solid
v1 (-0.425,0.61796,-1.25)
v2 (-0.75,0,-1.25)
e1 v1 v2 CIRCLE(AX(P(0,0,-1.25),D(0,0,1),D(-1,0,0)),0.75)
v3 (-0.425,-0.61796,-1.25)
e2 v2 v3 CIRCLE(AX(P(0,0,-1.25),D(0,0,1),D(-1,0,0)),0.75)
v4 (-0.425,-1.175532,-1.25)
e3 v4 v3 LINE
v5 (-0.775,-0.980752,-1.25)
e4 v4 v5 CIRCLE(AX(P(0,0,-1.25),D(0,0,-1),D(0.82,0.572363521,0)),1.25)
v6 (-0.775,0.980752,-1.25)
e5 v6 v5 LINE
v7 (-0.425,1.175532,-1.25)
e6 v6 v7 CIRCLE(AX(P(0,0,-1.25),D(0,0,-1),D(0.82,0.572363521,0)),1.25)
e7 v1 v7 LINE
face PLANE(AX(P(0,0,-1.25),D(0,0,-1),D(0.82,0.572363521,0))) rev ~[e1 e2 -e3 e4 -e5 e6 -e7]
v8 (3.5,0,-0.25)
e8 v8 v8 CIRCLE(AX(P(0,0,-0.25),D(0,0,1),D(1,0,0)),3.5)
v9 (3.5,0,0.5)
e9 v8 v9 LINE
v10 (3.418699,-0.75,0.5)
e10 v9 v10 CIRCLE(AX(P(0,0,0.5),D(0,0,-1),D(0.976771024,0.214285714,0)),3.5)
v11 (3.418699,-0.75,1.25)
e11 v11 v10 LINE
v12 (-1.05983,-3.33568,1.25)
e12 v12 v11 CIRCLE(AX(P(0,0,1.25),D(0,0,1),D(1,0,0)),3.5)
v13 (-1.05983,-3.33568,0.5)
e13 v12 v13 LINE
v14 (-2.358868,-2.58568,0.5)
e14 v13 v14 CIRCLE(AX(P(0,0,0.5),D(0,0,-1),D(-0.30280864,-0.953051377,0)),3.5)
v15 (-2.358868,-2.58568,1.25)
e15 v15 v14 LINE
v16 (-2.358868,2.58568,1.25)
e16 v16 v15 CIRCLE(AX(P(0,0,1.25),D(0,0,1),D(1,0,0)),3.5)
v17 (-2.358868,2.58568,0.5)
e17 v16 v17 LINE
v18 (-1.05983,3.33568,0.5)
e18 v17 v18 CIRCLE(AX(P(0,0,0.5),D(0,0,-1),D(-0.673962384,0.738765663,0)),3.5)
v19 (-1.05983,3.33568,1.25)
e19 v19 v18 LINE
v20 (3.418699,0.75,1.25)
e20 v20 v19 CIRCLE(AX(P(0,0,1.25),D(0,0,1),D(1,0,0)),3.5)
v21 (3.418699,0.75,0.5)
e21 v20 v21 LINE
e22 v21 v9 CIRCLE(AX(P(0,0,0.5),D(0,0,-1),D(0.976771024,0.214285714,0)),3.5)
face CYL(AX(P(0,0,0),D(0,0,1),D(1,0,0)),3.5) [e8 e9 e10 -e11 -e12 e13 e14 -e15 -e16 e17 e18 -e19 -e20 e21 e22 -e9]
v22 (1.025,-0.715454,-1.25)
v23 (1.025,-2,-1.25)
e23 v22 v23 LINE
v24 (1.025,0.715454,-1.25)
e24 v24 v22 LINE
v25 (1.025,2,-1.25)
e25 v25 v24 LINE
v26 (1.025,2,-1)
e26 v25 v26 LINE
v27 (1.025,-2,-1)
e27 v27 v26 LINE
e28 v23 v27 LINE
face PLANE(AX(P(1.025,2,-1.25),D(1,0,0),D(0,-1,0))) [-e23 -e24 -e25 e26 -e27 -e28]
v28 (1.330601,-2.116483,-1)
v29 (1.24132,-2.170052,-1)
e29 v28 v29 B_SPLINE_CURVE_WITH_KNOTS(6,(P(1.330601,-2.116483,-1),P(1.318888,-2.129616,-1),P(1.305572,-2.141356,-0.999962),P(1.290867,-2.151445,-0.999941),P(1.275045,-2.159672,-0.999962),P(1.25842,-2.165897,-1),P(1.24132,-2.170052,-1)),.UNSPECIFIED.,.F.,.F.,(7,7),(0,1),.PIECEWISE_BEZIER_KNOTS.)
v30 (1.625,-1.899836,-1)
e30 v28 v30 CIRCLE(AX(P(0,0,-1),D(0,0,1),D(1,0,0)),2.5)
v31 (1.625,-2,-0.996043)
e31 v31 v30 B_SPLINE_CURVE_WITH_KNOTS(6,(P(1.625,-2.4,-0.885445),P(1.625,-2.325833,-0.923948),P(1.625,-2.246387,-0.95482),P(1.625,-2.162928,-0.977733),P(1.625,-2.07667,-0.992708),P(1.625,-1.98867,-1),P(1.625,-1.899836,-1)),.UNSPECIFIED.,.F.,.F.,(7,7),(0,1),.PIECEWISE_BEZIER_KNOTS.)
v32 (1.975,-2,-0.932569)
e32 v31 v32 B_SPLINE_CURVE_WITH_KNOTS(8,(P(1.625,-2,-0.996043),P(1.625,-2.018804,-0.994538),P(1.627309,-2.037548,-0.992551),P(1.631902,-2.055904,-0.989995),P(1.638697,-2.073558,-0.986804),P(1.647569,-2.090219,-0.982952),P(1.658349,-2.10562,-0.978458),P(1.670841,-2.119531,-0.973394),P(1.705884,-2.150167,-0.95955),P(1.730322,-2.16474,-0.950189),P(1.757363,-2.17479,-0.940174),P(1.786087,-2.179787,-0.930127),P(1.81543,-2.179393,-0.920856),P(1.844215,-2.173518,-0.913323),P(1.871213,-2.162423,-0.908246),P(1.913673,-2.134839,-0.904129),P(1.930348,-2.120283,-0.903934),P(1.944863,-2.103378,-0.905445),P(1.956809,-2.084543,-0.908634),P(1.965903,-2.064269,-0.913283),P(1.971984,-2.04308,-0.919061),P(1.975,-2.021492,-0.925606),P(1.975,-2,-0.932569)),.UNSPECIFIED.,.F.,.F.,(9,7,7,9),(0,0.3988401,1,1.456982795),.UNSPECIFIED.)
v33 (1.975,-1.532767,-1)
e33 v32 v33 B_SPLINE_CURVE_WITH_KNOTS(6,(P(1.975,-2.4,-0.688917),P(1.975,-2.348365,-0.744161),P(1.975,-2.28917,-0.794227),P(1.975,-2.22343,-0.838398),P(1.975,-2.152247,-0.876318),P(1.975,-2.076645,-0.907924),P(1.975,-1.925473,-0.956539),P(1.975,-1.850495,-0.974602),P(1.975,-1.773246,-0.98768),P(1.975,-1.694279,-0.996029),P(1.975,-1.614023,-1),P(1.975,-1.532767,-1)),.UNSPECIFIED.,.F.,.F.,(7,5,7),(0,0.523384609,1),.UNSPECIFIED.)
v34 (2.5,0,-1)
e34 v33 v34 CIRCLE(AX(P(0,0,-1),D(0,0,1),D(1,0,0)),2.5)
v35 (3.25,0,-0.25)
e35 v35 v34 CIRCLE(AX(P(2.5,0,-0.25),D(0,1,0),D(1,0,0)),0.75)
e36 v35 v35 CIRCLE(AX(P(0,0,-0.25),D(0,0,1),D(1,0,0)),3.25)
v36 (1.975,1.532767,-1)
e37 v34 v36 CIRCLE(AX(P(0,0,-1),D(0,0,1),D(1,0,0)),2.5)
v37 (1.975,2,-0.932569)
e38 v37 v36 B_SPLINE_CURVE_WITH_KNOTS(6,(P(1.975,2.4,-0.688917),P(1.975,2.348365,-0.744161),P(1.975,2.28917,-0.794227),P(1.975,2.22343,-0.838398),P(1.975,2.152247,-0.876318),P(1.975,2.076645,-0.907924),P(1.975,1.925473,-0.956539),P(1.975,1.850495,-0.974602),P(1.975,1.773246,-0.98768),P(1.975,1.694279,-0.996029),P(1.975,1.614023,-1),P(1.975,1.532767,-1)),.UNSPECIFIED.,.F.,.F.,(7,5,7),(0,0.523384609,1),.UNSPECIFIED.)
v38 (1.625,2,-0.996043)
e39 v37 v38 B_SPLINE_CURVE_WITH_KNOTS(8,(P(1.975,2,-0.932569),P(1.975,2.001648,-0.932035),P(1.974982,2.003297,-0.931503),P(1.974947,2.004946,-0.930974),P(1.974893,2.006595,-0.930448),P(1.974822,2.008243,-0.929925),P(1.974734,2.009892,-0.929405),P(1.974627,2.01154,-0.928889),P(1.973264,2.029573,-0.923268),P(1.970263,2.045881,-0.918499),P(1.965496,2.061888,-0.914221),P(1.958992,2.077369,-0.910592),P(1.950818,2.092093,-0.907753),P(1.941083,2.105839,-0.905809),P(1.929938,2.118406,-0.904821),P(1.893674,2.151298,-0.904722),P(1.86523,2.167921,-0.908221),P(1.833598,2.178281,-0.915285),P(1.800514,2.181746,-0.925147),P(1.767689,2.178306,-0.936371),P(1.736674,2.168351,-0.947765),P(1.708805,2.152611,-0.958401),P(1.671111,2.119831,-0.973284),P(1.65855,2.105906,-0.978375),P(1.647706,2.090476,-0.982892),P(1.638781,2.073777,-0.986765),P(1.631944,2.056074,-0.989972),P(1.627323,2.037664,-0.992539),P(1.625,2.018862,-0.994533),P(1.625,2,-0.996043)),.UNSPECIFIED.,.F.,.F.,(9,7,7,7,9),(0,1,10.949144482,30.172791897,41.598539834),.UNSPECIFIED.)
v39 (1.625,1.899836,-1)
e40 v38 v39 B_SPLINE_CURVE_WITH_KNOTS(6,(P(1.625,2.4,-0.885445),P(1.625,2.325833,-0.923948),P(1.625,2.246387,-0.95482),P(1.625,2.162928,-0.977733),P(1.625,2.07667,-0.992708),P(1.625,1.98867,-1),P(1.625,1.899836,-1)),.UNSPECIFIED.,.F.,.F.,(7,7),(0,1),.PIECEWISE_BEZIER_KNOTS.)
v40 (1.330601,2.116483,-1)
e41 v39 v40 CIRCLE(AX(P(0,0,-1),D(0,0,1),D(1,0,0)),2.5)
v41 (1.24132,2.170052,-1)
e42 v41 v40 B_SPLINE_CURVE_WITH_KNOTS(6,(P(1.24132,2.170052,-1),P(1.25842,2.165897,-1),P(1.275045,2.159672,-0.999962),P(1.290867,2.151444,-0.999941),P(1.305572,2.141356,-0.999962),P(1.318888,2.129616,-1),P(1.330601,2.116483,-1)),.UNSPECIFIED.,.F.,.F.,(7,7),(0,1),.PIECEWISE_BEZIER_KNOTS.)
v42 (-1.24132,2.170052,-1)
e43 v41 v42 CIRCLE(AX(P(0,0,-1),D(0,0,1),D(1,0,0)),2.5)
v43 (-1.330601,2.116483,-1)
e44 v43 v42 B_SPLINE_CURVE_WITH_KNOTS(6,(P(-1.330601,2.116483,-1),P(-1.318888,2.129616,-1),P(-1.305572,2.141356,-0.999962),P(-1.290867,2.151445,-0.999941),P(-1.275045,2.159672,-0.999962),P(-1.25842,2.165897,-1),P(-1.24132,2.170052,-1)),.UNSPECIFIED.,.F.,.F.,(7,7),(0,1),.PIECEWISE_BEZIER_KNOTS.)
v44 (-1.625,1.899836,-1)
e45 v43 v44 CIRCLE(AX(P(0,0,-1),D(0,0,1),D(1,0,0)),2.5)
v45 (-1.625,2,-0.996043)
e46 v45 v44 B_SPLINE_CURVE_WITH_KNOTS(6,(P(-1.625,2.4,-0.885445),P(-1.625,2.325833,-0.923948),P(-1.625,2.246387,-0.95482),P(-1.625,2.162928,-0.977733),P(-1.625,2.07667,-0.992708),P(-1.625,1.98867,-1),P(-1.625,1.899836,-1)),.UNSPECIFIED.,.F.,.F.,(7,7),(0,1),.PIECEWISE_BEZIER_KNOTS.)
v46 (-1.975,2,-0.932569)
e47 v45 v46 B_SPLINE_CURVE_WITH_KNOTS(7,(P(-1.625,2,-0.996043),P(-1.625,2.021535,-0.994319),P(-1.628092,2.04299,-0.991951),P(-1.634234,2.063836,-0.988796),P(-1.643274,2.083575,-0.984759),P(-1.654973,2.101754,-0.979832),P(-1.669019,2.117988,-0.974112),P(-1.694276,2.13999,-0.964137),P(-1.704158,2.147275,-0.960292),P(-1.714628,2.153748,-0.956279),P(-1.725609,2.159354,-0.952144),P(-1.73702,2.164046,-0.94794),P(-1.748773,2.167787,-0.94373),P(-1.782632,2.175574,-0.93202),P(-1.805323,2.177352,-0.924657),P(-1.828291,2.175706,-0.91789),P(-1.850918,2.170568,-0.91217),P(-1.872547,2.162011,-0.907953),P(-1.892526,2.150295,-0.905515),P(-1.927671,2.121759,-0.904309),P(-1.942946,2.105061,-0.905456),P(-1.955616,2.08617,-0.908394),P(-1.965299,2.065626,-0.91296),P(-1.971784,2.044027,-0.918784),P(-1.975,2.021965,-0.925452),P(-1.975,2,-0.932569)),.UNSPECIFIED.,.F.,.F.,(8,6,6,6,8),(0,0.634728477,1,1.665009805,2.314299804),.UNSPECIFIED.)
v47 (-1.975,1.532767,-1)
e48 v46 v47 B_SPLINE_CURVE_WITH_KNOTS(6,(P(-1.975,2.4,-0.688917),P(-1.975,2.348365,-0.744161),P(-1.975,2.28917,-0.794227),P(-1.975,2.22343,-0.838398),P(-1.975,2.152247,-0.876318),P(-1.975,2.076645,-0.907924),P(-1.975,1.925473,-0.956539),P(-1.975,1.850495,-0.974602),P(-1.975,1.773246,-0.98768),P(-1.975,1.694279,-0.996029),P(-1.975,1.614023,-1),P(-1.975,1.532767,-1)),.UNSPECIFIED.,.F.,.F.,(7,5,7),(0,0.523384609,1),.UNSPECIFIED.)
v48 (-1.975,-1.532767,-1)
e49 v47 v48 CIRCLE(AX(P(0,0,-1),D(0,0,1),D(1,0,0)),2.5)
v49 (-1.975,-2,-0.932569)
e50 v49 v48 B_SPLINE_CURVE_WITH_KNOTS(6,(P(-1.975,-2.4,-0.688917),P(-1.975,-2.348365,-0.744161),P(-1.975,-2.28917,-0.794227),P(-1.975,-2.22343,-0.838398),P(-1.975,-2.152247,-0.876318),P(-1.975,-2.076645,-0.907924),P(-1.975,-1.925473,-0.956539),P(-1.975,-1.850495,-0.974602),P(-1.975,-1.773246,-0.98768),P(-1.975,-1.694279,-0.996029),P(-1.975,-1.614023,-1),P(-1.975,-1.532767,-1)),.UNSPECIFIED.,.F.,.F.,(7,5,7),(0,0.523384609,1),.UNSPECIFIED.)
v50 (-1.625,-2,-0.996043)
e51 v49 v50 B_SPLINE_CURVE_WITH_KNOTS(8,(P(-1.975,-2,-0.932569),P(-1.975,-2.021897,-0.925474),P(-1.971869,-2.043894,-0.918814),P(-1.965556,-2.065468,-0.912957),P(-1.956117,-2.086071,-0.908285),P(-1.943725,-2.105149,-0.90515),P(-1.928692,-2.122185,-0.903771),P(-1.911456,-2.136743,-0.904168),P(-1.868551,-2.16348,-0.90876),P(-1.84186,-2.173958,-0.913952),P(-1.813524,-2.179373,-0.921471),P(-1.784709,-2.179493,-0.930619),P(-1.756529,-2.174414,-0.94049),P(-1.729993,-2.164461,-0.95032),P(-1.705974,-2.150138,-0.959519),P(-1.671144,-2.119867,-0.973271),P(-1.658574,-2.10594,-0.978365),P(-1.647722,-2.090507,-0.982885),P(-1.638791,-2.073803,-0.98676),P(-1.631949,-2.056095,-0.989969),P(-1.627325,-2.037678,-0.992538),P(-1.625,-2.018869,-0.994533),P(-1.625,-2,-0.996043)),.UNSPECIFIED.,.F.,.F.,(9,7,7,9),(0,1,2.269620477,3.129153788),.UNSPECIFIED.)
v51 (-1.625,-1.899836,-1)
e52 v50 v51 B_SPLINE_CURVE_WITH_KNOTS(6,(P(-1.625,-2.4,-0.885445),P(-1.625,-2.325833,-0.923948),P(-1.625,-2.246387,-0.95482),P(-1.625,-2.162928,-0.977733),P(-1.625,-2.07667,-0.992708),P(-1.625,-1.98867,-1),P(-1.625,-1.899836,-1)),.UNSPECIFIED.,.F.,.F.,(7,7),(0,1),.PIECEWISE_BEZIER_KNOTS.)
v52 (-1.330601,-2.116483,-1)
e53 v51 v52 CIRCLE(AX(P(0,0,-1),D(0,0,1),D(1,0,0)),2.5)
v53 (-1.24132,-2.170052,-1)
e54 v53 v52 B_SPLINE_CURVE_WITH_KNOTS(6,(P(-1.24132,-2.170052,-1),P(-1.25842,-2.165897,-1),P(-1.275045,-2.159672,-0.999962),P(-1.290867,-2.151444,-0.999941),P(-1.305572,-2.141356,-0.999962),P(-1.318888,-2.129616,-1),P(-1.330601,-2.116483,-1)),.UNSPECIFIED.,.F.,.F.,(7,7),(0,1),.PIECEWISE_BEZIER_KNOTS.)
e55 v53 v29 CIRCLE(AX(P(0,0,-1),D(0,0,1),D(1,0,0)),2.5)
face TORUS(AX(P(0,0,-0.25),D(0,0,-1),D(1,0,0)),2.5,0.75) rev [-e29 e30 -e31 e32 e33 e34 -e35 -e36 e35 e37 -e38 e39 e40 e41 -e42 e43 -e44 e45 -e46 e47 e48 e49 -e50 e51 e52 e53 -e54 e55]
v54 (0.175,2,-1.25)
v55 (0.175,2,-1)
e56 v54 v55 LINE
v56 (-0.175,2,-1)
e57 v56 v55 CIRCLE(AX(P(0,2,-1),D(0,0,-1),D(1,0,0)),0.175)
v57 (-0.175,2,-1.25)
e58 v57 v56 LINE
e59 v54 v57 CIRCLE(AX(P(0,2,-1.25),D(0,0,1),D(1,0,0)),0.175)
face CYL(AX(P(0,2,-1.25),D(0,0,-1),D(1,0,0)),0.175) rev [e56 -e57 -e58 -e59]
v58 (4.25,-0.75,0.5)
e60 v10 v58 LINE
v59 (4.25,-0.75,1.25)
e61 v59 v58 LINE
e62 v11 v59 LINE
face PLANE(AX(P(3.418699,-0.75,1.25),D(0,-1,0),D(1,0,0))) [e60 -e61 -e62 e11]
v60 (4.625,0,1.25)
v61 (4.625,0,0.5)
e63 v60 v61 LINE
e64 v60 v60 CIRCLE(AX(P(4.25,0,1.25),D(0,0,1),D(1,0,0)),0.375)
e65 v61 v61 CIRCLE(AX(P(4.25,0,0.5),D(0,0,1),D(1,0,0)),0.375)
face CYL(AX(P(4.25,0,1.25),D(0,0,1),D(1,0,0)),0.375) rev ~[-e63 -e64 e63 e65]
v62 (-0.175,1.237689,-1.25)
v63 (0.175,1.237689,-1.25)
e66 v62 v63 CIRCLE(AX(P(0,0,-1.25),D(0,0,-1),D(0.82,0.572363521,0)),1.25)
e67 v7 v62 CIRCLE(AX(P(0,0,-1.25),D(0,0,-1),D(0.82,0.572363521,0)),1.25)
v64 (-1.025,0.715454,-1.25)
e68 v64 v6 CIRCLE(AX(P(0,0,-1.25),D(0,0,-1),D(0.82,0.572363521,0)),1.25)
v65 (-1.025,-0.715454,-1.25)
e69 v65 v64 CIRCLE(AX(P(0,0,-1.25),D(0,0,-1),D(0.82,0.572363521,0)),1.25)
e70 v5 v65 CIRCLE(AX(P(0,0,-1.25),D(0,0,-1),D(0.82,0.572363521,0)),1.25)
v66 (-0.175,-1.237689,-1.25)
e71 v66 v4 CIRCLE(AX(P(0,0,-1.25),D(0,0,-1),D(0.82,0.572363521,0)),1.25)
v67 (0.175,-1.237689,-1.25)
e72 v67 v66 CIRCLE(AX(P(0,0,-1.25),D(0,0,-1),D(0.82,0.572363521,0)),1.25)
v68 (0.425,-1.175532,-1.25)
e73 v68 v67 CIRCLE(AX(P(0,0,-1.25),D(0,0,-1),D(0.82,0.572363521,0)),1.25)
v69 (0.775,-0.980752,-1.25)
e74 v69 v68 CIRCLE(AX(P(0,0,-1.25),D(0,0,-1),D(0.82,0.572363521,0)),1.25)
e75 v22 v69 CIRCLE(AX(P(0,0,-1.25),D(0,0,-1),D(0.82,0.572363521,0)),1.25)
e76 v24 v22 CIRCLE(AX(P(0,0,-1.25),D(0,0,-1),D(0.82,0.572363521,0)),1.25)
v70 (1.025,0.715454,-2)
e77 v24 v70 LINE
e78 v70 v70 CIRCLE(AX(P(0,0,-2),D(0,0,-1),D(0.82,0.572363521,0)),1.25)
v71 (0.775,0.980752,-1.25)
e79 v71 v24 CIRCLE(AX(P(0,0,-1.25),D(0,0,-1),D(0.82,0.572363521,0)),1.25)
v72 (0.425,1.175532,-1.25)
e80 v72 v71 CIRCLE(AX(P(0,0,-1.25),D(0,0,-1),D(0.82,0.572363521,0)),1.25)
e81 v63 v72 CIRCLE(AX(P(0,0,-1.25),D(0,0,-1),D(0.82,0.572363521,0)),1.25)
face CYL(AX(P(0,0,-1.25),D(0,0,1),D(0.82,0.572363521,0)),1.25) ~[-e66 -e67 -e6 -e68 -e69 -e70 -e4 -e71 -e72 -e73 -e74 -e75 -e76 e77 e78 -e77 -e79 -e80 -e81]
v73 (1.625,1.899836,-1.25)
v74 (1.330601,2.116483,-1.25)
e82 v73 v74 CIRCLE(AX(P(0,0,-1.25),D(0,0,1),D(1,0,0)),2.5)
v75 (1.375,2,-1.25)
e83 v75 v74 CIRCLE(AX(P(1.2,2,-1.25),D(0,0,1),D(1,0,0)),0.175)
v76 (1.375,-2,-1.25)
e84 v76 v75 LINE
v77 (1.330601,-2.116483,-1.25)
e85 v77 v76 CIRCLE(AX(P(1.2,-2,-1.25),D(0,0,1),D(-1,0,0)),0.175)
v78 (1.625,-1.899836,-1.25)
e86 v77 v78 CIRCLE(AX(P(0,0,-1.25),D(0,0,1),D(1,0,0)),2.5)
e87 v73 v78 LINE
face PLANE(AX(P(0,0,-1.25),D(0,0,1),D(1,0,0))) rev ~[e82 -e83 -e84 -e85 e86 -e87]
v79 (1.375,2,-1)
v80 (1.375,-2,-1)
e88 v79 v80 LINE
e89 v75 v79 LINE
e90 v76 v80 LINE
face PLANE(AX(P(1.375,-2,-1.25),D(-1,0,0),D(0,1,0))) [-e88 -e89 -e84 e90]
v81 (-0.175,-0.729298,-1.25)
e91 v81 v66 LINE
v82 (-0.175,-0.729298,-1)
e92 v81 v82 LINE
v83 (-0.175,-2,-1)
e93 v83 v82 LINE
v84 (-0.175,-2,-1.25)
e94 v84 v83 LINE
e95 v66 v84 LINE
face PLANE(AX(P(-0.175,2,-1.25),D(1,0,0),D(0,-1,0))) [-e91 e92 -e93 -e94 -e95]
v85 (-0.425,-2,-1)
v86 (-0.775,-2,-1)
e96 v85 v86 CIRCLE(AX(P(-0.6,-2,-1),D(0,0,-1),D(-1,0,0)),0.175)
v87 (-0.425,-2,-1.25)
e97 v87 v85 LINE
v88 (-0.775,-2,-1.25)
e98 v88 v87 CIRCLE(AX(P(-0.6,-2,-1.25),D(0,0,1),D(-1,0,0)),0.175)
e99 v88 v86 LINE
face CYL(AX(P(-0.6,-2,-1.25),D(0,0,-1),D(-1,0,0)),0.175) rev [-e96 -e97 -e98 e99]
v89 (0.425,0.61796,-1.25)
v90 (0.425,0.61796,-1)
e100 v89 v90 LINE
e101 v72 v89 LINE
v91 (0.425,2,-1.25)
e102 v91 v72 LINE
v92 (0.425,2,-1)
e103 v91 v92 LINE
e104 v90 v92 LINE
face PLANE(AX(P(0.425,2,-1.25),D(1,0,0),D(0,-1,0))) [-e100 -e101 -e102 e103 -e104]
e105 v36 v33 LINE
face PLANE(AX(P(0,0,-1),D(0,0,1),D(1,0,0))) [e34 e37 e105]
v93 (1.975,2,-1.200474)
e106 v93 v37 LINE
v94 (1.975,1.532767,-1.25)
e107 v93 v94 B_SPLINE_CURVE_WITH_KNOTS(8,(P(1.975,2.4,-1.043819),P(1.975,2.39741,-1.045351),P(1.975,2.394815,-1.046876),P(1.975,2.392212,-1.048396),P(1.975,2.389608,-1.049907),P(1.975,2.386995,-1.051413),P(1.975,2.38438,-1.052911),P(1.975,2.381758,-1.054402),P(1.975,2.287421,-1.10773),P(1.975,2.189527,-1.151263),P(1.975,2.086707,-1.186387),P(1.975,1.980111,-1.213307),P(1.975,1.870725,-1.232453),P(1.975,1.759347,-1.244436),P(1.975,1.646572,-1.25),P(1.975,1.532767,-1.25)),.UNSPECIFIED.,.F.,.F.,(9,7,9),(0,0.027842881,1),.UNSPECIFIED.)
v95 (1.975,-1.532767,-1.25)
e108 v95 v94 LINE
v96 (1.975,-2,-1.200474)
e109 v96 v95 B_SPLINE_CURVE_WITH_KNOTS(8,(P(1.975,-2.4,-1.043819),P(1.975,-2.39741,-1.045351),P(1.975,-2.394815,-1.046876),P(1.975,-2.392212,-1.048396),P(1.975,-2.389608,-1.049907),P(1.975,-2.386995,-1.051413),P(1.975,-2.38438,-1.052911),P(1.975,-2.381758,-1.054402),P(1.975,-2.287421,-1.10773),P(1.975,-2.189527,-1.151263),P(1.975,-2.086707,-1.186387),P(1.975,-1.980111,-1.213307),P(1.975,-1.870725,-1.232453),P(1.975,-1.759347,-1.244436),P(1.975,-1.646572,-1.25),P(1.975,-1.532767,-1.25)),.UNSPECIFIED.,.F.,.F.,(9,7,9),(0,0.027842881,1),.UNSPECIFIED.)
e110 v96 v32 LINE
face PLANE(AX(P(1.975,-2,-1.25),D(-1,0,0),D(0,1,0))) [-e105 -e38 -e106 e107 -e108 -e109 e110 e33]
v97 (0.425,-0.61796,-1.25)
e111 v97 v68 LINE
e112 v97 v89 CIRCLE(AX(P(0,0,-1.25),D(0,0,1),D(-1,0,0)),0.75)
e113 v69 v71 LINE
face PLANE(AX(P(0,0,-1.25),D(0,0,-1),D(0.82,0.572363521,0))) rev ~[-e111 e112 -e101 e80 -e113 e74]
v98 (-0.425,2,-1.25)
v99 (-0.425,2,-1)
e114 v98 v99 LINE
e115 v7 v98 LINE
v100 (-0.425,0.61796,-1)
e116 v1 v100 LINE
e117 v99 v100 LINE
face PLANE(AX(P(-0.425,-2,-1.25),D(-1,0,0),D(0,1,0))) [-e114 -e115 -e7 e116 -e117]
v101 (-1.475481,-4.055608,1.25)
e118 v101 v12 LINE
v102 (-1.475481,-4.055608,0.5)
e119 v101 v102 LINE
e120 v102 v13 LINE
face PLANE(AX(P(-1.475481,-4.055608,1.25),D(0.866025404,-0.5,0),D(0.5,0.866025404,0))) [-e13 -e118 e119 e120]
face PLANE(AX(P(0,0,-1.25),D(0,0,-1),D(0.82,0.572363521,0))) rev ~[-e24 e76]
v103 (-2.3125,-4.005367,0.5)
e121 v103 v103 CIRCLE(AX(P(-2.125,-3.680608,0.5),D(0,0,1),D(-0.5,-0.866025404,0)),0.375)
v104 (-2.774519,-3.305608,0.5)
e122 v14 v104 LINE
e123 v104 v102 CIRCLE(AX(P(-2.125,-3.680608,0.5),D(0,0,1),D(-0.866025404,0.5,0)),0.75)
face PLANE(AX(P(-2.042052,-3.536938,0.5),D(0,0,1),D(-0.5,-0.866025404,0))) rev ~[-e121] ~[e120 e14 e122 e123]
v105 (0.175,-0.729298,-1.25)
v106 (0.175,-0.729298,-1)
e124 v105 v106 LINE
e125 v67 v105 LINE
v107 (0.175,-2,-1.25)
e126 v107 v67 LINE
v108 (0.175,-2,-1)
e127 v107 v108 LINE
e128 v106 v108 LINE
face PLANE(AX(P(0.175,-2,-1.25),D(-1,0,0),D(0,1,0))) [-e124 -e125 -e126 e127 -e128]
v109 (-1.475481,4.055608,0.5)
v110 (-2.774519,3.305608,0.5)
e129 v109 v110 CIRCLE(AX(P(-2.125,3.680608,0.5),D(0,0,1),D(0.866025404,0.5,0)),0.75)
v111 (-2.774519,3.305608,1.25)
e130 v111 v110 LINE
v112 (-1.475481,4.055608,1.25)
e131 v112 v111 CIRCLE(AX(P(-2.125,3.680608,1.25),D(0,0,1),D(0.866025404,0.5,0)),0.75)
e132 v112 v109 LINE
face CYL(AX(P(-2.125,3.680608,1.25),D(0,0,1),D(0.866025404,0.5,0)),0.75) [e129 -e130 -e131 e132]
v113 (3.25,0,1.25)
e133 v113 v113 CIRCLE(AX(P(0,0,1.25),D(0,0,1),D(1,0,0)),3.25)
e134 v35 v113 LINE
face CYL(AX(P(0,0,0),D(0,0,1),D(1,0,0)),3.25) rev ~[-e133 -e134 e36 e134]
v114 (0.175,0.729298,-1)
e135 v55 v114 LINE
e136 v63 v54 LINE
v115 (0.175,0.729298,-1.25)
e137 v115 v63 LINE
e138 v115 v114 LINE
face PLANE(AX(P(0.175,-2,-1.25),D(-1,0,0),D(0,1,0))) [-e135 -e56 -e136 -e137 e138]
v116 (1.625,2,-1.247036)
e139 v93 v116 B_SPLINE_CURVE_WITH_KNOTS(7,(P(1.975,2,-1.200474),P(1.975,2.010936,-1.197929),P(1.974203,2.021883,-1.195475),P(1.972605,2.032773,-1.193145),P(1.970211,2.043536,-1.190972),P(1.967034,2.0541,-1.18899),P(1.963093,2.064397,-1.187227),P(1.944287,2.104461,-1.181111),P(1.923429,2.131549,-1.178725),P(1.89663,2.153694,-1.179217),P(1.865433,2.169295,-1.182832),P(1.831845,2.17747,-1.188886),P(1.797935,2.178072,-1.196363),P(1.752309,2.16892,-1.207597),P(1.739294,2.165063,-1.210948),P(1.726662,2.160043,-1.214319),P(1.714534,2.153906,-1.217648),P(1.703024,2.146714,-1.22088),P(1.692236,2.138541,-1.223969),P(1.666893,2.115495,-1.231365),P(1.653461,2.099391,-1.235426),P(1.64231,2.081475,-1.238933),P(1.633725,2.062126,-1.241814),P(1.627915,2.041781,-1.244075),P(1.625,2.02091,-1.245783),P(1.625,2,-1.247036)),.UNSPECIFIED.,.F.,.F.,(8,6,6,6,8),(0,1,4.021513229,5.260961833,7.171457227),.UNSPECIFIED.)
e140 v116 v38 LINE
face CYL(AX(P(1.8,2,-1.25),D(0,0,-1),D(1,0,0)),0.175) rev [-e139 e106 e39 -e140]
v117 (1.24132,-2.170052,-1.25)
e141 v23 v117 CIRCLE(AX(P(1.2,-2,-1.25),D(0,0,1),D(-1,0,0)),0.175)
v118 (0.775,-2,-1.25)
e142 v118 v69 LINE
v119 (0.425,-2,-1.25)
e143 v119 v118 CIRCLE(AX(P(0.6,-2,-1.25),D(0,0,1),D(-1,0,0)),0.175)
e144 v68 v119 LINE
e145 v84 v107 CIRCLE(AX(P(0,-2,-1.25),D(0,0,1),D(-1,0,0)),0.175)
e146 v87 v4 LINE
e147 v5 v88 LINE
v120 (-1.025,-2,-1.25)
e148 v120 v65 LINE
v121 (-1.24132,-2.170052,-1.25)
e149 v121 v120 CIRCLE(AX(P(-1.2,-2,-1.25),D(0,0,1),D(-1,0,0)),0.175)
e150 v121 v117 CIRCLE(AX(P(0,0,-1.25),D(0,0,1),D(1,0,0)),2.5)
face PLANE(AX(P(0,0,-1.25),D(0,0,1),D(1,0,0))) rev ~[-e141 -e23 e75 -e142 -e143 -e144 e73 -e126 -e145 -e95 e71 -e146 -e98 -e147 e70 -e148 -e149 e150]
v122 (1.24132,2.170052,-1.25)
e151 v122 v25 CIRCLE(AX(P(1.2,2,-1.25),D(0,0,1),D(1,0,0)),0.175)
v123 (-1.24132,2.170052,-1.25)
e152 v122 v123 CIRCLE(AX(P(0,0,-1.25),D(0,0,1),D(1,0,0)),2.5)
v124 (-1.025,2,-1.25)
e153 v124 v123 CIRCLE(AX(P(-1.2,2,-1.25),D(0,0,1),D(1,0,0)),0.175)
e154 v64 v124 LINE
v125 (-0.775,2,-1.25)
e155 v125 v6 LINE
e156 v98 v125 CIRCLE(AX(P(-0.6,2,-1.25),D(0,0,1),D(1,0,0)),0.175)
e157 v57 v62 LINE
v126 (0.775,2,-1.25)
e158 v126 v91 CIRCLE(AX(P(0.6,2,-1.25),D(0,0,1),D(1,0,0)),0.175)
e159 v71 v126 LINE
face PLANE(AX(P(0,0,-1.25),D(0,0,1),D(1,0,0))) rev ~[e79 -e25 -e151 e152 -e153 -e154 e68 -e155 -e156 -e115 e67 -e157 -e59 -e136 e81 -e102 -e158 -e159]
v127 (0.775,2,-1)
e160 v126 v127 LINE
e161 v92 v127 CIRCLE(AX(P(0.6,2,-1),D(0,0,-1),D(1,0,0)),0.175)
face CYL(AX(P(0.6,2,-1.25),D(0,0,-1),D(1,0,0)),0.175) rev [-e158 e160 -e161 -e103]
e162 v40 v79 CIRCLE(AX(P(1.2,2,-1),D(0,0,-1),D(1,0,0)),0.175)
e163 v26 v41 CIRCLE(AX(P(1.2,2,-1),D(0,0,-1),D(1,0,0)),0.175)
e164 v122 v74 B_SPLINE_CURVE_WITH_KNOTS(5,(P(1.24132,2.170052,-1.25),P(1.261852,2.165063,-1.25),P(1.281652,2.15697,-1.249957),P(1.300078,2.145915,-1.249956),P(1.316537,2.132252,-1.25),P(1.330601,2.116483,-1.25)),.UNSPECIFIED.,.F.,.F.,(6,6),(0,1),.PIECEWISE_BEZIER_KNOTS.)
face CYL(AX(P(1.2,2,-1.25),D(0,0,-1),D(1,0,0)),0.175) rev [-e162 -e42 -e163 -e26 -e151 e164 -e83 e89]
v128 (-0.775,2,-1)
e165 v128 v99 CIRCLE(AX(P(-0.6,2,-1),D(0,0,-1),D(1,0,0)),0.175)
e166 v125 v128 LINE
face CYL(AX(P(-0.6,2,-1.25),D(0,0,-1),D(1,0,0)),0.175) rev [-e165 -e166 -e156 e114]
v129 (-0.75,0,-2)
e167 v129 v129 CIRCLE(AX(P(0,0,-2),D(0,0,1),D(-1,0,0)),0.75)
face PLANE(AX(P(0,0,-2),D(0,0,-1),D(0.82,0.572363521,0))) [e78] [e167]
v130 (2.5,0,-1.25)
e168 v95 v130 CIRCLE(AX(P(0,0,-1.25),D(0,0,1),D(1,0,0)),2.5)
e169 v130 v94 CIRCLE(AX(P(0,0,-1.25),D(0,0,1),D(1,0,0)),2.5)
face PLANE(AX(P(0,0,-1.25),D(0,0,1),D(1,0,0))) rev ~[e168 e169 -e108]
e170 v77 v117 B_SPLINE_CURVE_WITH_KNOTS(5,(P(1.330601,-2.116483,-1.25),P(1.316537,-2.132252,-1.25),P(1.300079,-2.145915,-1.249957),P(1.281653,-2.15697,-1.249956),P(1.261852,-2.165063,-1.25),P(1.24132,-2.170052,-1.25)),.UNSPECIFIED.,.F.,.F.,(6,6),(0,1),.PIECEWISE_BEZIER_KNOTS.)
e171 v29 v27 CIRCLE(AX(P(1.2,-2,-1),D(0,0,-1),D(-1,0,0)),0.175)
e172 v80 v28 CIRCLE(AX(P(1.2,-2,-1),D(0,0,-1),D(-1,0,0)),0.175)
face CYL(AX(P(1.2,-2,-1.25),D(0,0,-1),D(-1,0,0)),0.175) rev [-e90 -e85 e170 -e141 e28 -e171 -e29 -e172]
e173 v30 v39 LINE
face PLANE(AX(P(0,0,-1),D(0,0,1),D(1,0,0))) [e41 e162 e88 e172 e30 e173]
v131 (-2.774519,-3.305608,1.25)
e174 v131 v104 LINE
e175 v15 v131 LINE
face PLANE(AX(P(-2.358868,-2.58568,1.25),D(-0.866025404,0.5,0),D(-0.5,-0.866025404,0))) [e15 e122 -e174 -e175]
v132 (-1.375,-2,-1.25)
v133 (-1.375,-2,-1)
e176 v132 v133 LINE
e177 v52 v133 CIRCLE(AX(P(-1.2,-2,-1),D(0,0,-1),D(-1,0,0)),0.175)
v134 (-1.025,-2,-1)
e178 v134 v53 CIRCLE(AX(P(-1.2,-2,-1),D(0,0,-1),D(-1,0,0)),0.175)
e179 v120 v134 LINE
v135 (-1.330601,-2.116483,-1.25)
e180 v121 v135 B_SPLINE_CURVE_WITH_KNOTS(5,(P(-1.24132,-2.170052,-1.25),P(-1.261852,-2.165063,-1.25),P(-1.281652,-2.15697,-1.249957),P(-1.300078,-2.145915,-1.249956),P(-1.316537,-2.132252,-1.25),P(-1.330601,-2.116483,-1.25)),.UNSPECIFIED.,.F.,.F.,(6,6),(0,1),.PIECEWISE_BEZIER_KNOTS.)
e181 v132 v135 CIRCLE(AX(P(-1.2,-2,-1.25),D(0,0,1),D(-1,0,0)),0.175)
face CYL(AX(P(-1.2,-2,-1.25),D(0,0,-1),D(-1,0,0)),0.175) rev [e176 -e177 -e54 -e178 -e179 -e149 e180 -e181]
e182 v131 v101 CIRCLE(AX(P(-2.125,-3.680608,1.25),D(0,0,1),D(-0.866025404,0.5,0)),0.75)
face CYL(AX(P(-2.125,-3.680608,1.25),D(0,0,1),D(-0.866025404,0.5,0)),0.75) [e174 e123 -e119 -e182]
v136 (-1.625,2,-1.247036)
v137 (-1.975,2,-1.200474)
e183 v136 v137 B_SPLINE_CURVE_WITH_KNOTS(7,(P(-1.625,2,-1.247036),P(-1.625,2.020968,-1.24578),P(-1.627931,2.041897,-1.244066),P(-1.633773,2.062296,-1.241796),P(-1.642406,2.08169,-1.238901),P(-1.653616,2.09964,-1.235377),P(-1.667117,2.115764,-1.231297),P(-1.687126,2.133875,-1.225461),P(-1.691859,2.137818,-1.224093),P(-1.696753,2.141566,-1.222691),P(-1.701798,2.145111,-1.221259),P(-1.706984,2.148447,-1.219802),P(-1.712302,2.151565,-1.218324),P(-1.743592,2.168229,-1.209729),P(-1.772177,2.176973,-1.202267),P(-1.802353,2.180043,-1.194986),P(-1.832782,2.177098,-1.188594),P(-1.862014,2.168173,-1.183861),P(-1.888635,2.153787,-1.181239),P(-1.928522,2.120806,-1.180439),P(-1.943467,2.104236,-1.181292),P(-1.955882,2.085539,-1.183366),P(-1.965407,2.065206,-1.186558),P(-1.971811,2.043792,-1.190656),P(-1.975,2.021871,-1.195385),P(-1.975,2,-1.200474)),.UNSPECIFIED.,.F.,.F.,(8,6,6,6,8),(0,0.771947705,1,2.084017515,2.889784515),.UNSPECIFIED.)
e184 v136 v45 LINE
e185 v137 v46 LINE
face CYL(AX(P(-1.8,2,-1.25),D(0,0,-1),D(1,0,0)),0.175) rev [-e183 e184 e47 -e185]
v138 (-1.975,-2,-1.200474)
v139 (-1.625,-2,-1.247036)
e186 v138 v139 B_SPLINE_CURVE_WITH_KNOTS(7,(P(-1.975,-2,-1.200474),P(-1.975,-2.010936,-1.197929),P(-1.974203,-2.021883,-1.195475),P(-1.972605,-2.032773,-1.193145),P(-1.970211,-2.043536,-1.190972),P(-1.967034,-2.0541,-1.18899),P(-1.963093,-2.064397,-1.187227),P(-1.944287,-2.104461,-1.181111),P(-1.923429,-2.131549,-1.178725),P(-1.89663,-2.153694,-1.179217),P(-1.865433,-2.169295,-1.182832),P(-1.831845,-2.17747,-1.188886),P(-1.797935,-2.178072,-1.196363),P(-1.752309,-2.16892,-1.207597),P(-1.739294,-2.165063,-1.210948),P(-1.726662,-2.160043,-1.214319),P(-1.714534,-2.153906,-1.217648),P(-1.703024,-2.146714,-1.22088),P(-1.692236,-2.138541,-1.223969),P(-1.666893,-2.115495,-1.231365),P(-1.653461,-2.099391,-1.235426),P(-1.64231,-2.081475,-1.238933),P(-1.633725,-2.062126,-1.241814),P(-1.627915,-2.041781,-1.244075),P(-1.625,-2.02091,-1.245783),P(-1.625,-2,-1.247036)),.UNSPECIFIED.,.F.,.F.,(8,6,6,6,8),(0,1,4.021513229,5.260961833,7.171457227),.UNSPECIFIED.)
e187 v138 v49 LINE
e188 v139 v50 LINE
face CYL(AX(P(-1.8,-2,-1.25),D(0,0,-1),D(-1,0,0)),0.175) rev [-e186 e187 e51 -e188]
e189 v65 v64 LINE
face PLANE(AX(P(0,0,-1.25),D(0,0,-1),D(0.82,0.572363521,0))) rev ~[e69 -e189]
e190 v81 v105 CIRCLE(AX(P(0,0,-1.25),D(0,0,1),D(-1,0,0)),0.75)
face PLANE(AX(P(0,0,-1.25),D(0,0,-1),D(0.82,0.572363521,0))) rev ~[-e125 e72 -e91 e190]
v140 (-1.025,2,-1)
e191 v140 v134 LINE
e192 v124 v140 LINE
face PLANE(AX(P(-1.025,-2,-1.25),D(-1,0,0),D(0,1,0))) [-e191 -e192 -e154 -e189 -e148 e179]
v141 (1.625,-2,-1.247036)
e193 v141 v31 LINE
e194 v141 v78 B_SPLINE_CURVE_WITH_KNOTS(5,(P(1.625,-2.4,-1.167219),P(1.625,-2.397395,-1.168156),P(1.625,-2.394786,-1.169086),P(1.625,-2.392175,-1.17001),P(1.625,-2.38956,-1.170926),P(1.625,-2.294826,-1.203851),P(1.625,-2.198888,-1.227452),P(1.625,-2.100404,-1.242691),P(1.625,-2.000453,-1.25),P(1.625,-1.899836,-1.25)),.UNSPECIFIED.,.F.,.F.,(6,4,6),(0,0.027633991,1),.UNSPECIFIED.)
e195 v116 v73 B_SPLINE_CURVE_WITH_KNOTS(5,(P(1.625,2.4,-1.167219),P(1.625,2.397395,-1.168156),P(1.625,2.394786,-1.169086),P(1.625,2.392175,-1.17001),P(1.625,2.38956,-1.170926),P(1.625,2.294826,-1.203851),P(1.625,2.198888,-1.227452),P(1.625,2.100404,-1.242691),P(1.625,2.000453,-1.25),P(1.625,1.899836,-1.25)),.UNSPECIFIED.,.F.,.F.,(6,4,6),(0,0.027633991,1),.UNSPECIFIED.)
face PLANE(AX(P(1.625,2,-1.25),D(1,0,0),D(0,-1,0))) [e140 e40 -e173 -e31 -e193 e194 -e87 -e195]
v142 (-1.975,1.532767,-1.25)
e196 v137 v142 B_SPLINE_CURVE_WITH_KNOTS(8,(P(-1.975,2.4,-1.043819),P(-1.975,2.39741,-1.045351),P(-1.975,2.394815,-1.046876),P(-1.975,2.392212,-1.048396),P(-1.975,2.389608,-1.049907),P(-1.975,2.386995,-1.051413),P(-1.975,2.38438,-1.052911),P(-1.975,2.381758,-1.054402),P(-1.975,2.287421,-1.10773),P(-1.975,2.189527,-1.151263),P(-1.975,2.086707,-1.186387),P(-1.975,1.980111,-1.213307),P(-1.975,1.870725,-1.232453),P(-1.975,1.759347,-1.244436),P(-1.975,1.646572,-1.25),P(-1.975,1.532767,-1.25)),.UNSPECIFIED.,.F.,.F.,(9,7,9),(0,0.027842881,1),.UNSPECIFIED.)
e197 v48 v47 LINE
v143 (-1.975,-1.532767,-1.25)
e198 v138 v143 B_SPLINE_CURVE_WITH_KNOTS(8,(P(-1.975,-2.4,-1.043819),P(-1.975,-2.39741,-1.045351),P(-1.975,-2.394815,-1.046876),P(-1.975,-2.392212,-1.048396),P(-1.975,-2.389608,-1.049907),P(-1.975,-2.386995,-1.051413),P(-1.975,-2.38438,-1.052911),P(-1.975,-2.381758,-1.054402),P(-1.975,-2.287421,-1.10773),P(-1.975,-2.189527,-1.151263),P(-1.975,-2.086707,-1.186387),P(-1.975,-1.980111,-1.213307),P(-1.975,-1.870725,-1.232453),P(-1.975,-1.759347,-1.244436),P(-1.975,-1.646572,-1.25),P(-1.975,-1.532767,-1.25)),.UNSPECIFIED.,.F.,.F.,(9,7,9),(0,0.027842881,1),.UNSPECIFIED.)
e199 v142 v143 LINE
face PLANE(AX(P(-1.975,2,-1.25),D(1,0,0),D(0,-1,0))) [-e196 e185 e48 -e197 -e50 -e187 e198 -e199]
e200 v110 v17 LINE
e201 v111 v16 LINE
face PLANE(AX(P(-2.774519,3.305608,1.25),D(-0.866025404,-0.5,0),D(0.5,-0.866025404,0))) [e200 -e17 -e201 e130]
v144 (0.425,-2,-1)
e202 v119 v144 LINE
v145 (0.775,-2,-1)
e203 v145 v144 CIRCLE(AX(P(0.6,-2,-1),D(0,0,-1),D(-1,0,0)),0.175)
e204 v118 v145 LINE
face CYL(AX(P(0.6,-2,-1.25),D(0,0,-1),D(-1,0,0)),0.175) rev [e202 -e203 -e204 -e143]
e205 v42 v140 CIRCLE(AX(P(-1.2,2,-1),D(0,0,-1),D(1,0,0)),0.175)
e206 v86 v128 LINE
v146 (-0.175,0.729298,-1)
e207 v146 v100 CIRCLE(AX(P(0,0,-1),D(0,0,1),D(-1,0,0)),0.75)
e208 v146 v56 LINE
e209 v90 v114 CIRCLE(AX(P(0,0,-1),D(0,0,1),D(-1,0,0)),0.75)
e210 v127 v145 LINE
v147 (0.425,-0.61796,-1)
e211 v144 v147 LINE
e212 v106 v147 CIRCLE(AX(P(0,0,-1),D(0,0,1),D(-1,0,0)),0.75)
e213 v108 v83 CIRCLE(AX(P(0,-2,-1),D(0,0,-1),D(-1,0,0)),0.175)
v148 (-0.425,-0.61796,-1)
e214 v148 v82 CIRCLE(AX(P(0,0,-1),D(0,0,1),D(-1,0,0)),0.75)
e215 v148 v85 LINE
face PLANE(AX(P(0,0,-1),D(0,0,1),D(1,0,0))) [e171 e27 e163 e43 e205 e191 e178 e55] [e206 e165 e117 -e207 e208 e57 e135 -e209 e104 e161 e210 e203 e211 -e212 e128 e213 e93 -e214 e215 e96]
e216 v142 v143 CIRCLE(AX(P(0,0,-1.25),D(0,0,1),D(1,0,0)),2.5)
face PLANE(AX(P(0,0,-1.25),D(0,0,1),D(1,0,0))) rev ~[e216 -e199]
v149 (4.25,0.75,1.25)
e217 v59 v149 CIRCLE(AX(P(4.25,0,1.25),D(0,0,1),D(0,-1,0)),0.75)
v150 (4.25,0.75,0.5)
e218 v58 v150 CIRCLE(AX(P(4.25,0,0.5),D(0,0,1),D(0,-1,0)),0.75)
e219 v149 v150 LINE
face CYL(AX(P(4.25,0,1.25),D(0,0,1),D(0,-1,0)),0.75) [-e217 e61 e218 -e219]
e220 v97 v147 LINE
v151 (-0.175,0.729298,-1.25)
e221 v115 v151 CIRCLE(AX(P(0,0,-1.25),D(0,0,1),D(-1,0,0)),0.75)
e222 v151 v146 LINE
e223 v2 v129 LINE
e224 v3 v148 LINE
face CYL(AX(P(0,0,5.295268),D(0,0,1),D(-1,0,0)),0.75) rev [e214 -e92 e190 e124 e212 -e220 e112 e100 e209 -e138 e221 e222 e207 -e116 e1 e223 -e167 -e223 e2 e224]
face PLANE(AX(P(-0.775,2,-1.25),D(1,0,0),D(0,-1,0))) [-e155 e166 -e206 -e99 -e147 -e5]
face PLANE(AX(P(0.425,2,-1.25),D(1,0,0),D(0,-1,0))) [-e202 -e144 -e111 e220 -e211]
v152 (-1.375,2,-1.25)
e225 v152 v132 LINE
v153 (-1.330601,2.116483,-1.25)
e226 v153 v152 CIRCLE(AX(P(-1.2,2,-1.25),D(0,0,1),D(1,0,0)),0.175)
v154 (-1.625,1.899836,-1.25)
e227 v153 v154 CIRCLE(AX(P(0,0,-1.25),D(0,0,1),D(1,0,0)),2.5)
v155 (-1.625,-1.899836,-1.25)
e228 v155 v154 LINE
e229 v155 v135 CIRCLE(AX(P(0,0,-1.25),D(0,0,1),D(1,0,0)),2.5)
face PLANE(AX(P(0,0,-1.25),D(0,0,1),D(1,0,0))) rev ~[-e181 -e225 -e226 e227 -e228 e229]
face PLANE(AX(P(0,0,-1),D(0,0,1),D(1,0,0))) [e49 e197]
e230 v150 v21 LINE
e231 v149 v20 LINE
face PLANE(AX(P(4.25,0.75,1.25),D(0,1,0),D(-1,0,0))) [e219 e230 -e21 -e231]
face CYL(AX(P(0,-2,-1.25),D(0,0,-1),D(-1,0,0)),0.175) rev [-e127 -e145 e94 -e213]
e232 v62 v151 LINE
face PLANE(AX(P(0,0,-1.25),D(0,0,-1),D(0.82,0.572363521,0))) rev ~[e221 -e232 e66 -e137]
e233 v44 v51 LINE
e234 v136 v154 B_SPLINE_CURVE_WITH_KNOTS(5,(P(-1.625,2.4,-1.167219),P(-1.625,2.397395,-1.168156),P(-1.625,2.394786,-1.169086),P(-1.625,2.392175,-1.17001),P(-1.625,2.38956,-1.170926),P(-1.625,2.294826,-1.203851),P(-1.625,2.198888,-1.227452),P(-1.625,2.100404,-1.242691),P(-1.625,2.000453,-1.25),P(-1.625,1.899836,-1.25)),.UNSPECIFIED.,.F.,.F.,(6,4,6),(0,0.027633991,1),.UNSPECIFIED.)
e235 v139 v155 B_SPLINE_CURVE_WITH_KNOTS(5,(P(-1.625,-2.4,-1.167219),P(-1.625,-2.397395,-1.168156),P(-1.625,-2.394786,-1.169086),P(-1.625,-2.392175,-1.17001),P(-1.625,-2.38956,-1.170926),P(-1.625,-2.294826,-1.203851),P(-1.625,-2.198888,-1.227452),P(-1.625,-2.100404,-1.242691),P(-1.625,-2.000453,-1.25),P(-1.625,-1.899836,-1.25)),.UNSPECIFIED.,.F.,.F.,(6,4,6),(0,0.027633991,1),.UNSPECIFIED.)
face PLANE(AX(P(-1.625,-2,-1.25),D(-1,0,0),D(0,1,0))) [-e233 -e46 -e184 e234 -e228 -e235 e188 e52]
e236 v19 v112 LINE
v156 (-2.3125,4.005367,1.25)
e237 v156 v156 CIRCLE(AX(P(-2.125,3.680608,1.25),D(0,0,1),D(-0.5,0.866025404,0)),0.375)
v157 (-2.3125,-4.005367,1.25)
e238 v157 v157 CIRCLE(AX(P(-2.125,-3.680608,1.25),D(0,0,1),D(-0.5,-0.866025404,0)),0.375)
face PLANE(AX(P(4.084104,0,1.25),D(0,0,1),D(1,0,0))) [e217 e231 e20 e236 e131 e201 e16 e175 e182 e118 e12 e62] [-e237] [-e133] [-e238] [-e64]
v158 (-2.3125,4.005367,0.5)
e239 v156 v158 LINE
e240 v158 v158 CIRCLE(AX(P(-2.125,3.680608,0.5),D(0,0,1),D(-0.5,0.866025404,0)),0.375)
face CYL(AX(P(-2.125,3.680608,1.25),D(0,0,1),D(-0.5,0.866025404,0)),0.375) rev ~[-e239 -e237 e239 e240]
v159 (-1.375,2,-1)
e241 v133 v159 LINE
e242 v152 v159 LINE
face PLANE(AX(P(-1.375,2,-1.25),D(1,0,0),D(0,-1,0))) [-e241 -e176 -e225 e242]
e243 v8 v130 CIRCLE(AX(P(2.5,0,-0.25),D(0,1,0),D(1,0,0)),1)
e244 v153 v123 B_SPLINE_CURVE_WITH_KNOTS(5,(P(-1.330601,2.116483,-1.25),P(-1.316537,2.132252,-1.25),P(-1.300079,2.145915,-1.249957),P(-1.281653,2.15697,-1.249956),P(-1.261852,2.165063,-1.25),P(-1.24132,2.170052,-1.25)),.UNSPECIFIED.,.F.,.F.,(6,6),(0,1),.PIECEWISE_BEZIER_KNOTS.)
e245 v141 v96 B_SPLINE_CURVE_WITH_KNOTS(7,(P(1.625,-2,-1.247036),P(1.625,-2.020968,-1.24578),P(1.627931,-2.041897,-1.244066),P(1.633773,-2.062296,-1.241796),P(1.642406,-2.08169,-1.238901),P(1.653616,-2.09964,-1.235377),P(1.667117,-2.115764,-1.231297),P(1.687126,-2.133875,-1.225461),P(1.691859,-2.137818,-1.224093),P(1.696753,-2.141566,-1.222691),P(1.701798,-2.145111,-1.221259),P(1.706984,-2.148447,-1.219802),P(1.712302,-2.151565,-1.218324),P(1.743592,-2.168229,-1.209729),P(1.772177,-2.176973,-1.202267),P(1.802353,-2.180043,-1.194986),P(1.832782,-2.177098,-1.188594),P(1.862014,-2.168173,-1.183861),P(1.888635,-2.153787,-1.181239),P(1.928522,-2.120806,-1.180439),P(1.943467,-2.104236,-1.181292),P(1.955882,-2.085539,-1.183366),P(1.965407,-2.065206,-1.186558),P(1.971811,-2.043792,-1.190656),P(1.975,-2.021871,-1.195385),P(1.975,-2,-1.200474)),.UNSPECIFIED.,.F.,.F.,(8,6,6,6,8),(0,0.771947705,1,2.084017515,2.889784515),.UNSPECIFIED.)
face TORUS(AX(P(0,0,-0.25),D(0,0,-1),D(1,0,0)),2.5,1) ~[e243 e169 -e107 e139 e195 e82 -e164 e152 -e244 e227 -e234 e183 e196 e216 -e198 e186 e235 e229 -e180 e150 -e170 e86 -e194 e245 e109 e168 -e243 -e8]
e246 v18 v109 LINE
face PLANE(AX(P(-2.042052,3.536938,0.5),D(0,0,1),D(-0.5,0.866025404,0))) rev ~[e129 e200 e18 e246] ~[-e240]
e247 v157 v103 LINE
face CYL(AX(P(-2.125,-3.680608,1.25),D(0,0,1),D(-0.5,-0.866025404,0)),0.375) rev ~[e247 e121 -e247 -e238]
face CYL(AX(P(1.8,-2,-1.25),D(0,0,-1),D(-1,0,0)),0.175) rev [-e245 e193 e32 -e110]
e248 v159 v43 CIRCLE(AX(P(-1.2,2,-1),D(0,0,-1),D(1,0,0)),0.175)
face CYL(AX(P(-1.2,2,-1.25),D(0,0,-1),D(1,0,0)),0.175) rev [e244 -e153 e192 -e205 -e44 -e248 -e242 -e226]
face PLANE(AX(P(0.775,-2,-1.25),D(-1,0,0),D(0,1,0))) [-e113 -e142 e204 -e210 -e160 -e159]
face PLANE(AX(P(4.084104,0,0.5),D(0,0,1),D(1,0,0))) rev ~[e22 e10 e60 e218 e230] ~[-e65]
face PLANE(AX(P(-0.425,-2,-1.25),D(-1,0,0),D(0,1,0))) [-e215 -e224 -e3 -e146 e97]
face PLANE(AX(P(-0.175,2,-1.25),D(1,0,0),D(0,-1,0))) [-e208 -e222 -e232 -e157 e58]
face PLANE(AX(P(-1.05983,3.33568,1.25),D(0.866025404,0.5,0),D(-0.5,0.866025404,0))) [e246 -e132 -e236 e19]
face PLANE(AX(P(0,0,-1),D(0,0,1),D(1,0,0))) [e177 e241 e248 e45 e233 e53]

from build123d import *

# Parameters (mm, degrees)
SKETCH1_R               = 3.5
BOSS_EXTRUDE1_DEPTH     = 1.25
FILLET1_R               = 1
SHELL1_T                = -0.25
CUT_EXTRUDE1_DEPTH      = 6.545268253
LPATTERN1_COUNT         = 4
LPATTERN1_PITCH         = 0.6
LPATTERN2_COUNT         = 4
LPATTERN2_PITCH         = 0.6
SKETCH3_R               = 1.25
BOSS_EXTRUDE2_DEPTH     = 0.75
CUT_EXTRUDE2_DEPTH      = 6.545268379
CUT_EXTRUDE2_DEPTH_BACK = 6.545268379
SKETCH3_3_R             = 0.75
SKETCH4_R               = 0.375
BOSS_EXTRUDE3_DEPTH     = 0.75
CIRPATTERN1_COUNT       = 3


with BuildPart() as part:
    # Sketch1 → Boss-Extrude1 (new, symmetric)
    with BuildSketch(Plane.XY):
        Circle(SKETCH1_R)
    extrude(amount=BOSS_EXTRUDE1_DEPTH, both=True)

    # Fillet1
    fillet1_edges = [part.edges().sort_by_distance(p)[0] for p in [
        (-3.5, 0, -1.25),
    ]]
    fillet(fillet1_edges, radius=FILLET1_R)

    # Shell1
    shell1_openings = [part.faces().sort_by_distance(p)[0] for p in [
        (0, 0, 1.25),
    ]]
    offset(amount=SHELL1_T, openings=shell1_openings, kind=Kind.INTERSECTION)

    # Sketch2 → Cut-Extrude1 (cut, through all)
    with BuildSketch(Plane(origin=(0, 0, -1.25), x_dir=(-1, 0, 0), z_dir=(0, 0, -1))):
        with BuildLine():
            Line((0.175, 2), (0.175, -2))
            ThreePointArc((0.175, -2), (0, -2.175), (-0.175, -2))
            Line((-0.175, -2), (-0.175, 2))
            ThreePointArc((-0.175, 2), (0, 2.175), (0.175, 2))
        make_face()
    cut_extrude1 = extrude(amount=-CUT_EXTRUDE1_DEPTH, mode=Mode.SUBTRACT)

    # LPattern1: Cut-Extrude1 ×4
    with Locations(*[(i * LPATTERN1_PITCH, 0, 0) for i in range(1, LPATTERN1_COUNT)]):
        add(cut_extrude1, mode=Mode.SUBTRACT)

    # LPattern2: Cut-Extrude1 ×4
    with Locations(*[(-i * LPATTERN2_PITCH, 0, 0) for i in range(1, LPATTERN2_COUNT)]):
        add(cut_extrude1, mode=Mode.SUBTRACT)

    # Sketch3 → Boss-Extrude2 (add)
    with BuildSketch(Plane(origin=(0, 0, -1.25), x_dir=(-1, 0, 0), z_dir=(0, 0, -1))):
        Circle(SKETCH3_R)
    extrude(amount=BOSS_EXTRUDE2_DEPTH)

    # Sketch3<3> → Cut-Extrude2 (cut, two sides: drawn at the far end of the back side and taken through both)
    with BuildSketch(Plane(origin=(0, 0, -1.25), x_dir=(-1, 0, 0), z_dir=(0, 0, -1)).offset(-CUT_EXTRUDE2_DEPTH_BACK)):
        Circle(SKETCH3_3_R)
    extrude(amount=CUT_EXTRUDE2_DEPTH + CUT_EXTRUDE2_DEPTH_BACK, mode=Mode.SUBTRACT)

    # Sketch4 → Boss-Extrude3 (add)
    with BuildSketch(Plane.XY.offset(1.25)):
        with BuildLine():
            Line((4.25, 0.75), (3.418698583, 0.75))
            ThreePointArc((3.418698583, 0.75), (3.5, 0), (3.418698583, -0.75))
            Line((3.418698583, -0.75), (4.25, -0.75))
            ThreePointArc((4.25, -0.75), (5, 0), (4.25, 0.75))
        make_face()
        with Locations((4.25, 0)):
            Circle(SKETCH4_R, mode=Mode.SUBTRACT)
    boss_extrude3 = extrude(amount=-BOSS_EXTRUDE3_DEPTH)

    # CirPattern1: Boss-Extrude3 ×3 about axis
    cirpattern1_axis = Axis((0, 0, 1.25), (0, 0, 1))
    for i in range(1, CIRPATTERN1_COUNT):
        add(boss_extrude3.rotate(cirpattern1_axis, i * 360 / CIRPATTERN1_COUNT))


solid = part.part
